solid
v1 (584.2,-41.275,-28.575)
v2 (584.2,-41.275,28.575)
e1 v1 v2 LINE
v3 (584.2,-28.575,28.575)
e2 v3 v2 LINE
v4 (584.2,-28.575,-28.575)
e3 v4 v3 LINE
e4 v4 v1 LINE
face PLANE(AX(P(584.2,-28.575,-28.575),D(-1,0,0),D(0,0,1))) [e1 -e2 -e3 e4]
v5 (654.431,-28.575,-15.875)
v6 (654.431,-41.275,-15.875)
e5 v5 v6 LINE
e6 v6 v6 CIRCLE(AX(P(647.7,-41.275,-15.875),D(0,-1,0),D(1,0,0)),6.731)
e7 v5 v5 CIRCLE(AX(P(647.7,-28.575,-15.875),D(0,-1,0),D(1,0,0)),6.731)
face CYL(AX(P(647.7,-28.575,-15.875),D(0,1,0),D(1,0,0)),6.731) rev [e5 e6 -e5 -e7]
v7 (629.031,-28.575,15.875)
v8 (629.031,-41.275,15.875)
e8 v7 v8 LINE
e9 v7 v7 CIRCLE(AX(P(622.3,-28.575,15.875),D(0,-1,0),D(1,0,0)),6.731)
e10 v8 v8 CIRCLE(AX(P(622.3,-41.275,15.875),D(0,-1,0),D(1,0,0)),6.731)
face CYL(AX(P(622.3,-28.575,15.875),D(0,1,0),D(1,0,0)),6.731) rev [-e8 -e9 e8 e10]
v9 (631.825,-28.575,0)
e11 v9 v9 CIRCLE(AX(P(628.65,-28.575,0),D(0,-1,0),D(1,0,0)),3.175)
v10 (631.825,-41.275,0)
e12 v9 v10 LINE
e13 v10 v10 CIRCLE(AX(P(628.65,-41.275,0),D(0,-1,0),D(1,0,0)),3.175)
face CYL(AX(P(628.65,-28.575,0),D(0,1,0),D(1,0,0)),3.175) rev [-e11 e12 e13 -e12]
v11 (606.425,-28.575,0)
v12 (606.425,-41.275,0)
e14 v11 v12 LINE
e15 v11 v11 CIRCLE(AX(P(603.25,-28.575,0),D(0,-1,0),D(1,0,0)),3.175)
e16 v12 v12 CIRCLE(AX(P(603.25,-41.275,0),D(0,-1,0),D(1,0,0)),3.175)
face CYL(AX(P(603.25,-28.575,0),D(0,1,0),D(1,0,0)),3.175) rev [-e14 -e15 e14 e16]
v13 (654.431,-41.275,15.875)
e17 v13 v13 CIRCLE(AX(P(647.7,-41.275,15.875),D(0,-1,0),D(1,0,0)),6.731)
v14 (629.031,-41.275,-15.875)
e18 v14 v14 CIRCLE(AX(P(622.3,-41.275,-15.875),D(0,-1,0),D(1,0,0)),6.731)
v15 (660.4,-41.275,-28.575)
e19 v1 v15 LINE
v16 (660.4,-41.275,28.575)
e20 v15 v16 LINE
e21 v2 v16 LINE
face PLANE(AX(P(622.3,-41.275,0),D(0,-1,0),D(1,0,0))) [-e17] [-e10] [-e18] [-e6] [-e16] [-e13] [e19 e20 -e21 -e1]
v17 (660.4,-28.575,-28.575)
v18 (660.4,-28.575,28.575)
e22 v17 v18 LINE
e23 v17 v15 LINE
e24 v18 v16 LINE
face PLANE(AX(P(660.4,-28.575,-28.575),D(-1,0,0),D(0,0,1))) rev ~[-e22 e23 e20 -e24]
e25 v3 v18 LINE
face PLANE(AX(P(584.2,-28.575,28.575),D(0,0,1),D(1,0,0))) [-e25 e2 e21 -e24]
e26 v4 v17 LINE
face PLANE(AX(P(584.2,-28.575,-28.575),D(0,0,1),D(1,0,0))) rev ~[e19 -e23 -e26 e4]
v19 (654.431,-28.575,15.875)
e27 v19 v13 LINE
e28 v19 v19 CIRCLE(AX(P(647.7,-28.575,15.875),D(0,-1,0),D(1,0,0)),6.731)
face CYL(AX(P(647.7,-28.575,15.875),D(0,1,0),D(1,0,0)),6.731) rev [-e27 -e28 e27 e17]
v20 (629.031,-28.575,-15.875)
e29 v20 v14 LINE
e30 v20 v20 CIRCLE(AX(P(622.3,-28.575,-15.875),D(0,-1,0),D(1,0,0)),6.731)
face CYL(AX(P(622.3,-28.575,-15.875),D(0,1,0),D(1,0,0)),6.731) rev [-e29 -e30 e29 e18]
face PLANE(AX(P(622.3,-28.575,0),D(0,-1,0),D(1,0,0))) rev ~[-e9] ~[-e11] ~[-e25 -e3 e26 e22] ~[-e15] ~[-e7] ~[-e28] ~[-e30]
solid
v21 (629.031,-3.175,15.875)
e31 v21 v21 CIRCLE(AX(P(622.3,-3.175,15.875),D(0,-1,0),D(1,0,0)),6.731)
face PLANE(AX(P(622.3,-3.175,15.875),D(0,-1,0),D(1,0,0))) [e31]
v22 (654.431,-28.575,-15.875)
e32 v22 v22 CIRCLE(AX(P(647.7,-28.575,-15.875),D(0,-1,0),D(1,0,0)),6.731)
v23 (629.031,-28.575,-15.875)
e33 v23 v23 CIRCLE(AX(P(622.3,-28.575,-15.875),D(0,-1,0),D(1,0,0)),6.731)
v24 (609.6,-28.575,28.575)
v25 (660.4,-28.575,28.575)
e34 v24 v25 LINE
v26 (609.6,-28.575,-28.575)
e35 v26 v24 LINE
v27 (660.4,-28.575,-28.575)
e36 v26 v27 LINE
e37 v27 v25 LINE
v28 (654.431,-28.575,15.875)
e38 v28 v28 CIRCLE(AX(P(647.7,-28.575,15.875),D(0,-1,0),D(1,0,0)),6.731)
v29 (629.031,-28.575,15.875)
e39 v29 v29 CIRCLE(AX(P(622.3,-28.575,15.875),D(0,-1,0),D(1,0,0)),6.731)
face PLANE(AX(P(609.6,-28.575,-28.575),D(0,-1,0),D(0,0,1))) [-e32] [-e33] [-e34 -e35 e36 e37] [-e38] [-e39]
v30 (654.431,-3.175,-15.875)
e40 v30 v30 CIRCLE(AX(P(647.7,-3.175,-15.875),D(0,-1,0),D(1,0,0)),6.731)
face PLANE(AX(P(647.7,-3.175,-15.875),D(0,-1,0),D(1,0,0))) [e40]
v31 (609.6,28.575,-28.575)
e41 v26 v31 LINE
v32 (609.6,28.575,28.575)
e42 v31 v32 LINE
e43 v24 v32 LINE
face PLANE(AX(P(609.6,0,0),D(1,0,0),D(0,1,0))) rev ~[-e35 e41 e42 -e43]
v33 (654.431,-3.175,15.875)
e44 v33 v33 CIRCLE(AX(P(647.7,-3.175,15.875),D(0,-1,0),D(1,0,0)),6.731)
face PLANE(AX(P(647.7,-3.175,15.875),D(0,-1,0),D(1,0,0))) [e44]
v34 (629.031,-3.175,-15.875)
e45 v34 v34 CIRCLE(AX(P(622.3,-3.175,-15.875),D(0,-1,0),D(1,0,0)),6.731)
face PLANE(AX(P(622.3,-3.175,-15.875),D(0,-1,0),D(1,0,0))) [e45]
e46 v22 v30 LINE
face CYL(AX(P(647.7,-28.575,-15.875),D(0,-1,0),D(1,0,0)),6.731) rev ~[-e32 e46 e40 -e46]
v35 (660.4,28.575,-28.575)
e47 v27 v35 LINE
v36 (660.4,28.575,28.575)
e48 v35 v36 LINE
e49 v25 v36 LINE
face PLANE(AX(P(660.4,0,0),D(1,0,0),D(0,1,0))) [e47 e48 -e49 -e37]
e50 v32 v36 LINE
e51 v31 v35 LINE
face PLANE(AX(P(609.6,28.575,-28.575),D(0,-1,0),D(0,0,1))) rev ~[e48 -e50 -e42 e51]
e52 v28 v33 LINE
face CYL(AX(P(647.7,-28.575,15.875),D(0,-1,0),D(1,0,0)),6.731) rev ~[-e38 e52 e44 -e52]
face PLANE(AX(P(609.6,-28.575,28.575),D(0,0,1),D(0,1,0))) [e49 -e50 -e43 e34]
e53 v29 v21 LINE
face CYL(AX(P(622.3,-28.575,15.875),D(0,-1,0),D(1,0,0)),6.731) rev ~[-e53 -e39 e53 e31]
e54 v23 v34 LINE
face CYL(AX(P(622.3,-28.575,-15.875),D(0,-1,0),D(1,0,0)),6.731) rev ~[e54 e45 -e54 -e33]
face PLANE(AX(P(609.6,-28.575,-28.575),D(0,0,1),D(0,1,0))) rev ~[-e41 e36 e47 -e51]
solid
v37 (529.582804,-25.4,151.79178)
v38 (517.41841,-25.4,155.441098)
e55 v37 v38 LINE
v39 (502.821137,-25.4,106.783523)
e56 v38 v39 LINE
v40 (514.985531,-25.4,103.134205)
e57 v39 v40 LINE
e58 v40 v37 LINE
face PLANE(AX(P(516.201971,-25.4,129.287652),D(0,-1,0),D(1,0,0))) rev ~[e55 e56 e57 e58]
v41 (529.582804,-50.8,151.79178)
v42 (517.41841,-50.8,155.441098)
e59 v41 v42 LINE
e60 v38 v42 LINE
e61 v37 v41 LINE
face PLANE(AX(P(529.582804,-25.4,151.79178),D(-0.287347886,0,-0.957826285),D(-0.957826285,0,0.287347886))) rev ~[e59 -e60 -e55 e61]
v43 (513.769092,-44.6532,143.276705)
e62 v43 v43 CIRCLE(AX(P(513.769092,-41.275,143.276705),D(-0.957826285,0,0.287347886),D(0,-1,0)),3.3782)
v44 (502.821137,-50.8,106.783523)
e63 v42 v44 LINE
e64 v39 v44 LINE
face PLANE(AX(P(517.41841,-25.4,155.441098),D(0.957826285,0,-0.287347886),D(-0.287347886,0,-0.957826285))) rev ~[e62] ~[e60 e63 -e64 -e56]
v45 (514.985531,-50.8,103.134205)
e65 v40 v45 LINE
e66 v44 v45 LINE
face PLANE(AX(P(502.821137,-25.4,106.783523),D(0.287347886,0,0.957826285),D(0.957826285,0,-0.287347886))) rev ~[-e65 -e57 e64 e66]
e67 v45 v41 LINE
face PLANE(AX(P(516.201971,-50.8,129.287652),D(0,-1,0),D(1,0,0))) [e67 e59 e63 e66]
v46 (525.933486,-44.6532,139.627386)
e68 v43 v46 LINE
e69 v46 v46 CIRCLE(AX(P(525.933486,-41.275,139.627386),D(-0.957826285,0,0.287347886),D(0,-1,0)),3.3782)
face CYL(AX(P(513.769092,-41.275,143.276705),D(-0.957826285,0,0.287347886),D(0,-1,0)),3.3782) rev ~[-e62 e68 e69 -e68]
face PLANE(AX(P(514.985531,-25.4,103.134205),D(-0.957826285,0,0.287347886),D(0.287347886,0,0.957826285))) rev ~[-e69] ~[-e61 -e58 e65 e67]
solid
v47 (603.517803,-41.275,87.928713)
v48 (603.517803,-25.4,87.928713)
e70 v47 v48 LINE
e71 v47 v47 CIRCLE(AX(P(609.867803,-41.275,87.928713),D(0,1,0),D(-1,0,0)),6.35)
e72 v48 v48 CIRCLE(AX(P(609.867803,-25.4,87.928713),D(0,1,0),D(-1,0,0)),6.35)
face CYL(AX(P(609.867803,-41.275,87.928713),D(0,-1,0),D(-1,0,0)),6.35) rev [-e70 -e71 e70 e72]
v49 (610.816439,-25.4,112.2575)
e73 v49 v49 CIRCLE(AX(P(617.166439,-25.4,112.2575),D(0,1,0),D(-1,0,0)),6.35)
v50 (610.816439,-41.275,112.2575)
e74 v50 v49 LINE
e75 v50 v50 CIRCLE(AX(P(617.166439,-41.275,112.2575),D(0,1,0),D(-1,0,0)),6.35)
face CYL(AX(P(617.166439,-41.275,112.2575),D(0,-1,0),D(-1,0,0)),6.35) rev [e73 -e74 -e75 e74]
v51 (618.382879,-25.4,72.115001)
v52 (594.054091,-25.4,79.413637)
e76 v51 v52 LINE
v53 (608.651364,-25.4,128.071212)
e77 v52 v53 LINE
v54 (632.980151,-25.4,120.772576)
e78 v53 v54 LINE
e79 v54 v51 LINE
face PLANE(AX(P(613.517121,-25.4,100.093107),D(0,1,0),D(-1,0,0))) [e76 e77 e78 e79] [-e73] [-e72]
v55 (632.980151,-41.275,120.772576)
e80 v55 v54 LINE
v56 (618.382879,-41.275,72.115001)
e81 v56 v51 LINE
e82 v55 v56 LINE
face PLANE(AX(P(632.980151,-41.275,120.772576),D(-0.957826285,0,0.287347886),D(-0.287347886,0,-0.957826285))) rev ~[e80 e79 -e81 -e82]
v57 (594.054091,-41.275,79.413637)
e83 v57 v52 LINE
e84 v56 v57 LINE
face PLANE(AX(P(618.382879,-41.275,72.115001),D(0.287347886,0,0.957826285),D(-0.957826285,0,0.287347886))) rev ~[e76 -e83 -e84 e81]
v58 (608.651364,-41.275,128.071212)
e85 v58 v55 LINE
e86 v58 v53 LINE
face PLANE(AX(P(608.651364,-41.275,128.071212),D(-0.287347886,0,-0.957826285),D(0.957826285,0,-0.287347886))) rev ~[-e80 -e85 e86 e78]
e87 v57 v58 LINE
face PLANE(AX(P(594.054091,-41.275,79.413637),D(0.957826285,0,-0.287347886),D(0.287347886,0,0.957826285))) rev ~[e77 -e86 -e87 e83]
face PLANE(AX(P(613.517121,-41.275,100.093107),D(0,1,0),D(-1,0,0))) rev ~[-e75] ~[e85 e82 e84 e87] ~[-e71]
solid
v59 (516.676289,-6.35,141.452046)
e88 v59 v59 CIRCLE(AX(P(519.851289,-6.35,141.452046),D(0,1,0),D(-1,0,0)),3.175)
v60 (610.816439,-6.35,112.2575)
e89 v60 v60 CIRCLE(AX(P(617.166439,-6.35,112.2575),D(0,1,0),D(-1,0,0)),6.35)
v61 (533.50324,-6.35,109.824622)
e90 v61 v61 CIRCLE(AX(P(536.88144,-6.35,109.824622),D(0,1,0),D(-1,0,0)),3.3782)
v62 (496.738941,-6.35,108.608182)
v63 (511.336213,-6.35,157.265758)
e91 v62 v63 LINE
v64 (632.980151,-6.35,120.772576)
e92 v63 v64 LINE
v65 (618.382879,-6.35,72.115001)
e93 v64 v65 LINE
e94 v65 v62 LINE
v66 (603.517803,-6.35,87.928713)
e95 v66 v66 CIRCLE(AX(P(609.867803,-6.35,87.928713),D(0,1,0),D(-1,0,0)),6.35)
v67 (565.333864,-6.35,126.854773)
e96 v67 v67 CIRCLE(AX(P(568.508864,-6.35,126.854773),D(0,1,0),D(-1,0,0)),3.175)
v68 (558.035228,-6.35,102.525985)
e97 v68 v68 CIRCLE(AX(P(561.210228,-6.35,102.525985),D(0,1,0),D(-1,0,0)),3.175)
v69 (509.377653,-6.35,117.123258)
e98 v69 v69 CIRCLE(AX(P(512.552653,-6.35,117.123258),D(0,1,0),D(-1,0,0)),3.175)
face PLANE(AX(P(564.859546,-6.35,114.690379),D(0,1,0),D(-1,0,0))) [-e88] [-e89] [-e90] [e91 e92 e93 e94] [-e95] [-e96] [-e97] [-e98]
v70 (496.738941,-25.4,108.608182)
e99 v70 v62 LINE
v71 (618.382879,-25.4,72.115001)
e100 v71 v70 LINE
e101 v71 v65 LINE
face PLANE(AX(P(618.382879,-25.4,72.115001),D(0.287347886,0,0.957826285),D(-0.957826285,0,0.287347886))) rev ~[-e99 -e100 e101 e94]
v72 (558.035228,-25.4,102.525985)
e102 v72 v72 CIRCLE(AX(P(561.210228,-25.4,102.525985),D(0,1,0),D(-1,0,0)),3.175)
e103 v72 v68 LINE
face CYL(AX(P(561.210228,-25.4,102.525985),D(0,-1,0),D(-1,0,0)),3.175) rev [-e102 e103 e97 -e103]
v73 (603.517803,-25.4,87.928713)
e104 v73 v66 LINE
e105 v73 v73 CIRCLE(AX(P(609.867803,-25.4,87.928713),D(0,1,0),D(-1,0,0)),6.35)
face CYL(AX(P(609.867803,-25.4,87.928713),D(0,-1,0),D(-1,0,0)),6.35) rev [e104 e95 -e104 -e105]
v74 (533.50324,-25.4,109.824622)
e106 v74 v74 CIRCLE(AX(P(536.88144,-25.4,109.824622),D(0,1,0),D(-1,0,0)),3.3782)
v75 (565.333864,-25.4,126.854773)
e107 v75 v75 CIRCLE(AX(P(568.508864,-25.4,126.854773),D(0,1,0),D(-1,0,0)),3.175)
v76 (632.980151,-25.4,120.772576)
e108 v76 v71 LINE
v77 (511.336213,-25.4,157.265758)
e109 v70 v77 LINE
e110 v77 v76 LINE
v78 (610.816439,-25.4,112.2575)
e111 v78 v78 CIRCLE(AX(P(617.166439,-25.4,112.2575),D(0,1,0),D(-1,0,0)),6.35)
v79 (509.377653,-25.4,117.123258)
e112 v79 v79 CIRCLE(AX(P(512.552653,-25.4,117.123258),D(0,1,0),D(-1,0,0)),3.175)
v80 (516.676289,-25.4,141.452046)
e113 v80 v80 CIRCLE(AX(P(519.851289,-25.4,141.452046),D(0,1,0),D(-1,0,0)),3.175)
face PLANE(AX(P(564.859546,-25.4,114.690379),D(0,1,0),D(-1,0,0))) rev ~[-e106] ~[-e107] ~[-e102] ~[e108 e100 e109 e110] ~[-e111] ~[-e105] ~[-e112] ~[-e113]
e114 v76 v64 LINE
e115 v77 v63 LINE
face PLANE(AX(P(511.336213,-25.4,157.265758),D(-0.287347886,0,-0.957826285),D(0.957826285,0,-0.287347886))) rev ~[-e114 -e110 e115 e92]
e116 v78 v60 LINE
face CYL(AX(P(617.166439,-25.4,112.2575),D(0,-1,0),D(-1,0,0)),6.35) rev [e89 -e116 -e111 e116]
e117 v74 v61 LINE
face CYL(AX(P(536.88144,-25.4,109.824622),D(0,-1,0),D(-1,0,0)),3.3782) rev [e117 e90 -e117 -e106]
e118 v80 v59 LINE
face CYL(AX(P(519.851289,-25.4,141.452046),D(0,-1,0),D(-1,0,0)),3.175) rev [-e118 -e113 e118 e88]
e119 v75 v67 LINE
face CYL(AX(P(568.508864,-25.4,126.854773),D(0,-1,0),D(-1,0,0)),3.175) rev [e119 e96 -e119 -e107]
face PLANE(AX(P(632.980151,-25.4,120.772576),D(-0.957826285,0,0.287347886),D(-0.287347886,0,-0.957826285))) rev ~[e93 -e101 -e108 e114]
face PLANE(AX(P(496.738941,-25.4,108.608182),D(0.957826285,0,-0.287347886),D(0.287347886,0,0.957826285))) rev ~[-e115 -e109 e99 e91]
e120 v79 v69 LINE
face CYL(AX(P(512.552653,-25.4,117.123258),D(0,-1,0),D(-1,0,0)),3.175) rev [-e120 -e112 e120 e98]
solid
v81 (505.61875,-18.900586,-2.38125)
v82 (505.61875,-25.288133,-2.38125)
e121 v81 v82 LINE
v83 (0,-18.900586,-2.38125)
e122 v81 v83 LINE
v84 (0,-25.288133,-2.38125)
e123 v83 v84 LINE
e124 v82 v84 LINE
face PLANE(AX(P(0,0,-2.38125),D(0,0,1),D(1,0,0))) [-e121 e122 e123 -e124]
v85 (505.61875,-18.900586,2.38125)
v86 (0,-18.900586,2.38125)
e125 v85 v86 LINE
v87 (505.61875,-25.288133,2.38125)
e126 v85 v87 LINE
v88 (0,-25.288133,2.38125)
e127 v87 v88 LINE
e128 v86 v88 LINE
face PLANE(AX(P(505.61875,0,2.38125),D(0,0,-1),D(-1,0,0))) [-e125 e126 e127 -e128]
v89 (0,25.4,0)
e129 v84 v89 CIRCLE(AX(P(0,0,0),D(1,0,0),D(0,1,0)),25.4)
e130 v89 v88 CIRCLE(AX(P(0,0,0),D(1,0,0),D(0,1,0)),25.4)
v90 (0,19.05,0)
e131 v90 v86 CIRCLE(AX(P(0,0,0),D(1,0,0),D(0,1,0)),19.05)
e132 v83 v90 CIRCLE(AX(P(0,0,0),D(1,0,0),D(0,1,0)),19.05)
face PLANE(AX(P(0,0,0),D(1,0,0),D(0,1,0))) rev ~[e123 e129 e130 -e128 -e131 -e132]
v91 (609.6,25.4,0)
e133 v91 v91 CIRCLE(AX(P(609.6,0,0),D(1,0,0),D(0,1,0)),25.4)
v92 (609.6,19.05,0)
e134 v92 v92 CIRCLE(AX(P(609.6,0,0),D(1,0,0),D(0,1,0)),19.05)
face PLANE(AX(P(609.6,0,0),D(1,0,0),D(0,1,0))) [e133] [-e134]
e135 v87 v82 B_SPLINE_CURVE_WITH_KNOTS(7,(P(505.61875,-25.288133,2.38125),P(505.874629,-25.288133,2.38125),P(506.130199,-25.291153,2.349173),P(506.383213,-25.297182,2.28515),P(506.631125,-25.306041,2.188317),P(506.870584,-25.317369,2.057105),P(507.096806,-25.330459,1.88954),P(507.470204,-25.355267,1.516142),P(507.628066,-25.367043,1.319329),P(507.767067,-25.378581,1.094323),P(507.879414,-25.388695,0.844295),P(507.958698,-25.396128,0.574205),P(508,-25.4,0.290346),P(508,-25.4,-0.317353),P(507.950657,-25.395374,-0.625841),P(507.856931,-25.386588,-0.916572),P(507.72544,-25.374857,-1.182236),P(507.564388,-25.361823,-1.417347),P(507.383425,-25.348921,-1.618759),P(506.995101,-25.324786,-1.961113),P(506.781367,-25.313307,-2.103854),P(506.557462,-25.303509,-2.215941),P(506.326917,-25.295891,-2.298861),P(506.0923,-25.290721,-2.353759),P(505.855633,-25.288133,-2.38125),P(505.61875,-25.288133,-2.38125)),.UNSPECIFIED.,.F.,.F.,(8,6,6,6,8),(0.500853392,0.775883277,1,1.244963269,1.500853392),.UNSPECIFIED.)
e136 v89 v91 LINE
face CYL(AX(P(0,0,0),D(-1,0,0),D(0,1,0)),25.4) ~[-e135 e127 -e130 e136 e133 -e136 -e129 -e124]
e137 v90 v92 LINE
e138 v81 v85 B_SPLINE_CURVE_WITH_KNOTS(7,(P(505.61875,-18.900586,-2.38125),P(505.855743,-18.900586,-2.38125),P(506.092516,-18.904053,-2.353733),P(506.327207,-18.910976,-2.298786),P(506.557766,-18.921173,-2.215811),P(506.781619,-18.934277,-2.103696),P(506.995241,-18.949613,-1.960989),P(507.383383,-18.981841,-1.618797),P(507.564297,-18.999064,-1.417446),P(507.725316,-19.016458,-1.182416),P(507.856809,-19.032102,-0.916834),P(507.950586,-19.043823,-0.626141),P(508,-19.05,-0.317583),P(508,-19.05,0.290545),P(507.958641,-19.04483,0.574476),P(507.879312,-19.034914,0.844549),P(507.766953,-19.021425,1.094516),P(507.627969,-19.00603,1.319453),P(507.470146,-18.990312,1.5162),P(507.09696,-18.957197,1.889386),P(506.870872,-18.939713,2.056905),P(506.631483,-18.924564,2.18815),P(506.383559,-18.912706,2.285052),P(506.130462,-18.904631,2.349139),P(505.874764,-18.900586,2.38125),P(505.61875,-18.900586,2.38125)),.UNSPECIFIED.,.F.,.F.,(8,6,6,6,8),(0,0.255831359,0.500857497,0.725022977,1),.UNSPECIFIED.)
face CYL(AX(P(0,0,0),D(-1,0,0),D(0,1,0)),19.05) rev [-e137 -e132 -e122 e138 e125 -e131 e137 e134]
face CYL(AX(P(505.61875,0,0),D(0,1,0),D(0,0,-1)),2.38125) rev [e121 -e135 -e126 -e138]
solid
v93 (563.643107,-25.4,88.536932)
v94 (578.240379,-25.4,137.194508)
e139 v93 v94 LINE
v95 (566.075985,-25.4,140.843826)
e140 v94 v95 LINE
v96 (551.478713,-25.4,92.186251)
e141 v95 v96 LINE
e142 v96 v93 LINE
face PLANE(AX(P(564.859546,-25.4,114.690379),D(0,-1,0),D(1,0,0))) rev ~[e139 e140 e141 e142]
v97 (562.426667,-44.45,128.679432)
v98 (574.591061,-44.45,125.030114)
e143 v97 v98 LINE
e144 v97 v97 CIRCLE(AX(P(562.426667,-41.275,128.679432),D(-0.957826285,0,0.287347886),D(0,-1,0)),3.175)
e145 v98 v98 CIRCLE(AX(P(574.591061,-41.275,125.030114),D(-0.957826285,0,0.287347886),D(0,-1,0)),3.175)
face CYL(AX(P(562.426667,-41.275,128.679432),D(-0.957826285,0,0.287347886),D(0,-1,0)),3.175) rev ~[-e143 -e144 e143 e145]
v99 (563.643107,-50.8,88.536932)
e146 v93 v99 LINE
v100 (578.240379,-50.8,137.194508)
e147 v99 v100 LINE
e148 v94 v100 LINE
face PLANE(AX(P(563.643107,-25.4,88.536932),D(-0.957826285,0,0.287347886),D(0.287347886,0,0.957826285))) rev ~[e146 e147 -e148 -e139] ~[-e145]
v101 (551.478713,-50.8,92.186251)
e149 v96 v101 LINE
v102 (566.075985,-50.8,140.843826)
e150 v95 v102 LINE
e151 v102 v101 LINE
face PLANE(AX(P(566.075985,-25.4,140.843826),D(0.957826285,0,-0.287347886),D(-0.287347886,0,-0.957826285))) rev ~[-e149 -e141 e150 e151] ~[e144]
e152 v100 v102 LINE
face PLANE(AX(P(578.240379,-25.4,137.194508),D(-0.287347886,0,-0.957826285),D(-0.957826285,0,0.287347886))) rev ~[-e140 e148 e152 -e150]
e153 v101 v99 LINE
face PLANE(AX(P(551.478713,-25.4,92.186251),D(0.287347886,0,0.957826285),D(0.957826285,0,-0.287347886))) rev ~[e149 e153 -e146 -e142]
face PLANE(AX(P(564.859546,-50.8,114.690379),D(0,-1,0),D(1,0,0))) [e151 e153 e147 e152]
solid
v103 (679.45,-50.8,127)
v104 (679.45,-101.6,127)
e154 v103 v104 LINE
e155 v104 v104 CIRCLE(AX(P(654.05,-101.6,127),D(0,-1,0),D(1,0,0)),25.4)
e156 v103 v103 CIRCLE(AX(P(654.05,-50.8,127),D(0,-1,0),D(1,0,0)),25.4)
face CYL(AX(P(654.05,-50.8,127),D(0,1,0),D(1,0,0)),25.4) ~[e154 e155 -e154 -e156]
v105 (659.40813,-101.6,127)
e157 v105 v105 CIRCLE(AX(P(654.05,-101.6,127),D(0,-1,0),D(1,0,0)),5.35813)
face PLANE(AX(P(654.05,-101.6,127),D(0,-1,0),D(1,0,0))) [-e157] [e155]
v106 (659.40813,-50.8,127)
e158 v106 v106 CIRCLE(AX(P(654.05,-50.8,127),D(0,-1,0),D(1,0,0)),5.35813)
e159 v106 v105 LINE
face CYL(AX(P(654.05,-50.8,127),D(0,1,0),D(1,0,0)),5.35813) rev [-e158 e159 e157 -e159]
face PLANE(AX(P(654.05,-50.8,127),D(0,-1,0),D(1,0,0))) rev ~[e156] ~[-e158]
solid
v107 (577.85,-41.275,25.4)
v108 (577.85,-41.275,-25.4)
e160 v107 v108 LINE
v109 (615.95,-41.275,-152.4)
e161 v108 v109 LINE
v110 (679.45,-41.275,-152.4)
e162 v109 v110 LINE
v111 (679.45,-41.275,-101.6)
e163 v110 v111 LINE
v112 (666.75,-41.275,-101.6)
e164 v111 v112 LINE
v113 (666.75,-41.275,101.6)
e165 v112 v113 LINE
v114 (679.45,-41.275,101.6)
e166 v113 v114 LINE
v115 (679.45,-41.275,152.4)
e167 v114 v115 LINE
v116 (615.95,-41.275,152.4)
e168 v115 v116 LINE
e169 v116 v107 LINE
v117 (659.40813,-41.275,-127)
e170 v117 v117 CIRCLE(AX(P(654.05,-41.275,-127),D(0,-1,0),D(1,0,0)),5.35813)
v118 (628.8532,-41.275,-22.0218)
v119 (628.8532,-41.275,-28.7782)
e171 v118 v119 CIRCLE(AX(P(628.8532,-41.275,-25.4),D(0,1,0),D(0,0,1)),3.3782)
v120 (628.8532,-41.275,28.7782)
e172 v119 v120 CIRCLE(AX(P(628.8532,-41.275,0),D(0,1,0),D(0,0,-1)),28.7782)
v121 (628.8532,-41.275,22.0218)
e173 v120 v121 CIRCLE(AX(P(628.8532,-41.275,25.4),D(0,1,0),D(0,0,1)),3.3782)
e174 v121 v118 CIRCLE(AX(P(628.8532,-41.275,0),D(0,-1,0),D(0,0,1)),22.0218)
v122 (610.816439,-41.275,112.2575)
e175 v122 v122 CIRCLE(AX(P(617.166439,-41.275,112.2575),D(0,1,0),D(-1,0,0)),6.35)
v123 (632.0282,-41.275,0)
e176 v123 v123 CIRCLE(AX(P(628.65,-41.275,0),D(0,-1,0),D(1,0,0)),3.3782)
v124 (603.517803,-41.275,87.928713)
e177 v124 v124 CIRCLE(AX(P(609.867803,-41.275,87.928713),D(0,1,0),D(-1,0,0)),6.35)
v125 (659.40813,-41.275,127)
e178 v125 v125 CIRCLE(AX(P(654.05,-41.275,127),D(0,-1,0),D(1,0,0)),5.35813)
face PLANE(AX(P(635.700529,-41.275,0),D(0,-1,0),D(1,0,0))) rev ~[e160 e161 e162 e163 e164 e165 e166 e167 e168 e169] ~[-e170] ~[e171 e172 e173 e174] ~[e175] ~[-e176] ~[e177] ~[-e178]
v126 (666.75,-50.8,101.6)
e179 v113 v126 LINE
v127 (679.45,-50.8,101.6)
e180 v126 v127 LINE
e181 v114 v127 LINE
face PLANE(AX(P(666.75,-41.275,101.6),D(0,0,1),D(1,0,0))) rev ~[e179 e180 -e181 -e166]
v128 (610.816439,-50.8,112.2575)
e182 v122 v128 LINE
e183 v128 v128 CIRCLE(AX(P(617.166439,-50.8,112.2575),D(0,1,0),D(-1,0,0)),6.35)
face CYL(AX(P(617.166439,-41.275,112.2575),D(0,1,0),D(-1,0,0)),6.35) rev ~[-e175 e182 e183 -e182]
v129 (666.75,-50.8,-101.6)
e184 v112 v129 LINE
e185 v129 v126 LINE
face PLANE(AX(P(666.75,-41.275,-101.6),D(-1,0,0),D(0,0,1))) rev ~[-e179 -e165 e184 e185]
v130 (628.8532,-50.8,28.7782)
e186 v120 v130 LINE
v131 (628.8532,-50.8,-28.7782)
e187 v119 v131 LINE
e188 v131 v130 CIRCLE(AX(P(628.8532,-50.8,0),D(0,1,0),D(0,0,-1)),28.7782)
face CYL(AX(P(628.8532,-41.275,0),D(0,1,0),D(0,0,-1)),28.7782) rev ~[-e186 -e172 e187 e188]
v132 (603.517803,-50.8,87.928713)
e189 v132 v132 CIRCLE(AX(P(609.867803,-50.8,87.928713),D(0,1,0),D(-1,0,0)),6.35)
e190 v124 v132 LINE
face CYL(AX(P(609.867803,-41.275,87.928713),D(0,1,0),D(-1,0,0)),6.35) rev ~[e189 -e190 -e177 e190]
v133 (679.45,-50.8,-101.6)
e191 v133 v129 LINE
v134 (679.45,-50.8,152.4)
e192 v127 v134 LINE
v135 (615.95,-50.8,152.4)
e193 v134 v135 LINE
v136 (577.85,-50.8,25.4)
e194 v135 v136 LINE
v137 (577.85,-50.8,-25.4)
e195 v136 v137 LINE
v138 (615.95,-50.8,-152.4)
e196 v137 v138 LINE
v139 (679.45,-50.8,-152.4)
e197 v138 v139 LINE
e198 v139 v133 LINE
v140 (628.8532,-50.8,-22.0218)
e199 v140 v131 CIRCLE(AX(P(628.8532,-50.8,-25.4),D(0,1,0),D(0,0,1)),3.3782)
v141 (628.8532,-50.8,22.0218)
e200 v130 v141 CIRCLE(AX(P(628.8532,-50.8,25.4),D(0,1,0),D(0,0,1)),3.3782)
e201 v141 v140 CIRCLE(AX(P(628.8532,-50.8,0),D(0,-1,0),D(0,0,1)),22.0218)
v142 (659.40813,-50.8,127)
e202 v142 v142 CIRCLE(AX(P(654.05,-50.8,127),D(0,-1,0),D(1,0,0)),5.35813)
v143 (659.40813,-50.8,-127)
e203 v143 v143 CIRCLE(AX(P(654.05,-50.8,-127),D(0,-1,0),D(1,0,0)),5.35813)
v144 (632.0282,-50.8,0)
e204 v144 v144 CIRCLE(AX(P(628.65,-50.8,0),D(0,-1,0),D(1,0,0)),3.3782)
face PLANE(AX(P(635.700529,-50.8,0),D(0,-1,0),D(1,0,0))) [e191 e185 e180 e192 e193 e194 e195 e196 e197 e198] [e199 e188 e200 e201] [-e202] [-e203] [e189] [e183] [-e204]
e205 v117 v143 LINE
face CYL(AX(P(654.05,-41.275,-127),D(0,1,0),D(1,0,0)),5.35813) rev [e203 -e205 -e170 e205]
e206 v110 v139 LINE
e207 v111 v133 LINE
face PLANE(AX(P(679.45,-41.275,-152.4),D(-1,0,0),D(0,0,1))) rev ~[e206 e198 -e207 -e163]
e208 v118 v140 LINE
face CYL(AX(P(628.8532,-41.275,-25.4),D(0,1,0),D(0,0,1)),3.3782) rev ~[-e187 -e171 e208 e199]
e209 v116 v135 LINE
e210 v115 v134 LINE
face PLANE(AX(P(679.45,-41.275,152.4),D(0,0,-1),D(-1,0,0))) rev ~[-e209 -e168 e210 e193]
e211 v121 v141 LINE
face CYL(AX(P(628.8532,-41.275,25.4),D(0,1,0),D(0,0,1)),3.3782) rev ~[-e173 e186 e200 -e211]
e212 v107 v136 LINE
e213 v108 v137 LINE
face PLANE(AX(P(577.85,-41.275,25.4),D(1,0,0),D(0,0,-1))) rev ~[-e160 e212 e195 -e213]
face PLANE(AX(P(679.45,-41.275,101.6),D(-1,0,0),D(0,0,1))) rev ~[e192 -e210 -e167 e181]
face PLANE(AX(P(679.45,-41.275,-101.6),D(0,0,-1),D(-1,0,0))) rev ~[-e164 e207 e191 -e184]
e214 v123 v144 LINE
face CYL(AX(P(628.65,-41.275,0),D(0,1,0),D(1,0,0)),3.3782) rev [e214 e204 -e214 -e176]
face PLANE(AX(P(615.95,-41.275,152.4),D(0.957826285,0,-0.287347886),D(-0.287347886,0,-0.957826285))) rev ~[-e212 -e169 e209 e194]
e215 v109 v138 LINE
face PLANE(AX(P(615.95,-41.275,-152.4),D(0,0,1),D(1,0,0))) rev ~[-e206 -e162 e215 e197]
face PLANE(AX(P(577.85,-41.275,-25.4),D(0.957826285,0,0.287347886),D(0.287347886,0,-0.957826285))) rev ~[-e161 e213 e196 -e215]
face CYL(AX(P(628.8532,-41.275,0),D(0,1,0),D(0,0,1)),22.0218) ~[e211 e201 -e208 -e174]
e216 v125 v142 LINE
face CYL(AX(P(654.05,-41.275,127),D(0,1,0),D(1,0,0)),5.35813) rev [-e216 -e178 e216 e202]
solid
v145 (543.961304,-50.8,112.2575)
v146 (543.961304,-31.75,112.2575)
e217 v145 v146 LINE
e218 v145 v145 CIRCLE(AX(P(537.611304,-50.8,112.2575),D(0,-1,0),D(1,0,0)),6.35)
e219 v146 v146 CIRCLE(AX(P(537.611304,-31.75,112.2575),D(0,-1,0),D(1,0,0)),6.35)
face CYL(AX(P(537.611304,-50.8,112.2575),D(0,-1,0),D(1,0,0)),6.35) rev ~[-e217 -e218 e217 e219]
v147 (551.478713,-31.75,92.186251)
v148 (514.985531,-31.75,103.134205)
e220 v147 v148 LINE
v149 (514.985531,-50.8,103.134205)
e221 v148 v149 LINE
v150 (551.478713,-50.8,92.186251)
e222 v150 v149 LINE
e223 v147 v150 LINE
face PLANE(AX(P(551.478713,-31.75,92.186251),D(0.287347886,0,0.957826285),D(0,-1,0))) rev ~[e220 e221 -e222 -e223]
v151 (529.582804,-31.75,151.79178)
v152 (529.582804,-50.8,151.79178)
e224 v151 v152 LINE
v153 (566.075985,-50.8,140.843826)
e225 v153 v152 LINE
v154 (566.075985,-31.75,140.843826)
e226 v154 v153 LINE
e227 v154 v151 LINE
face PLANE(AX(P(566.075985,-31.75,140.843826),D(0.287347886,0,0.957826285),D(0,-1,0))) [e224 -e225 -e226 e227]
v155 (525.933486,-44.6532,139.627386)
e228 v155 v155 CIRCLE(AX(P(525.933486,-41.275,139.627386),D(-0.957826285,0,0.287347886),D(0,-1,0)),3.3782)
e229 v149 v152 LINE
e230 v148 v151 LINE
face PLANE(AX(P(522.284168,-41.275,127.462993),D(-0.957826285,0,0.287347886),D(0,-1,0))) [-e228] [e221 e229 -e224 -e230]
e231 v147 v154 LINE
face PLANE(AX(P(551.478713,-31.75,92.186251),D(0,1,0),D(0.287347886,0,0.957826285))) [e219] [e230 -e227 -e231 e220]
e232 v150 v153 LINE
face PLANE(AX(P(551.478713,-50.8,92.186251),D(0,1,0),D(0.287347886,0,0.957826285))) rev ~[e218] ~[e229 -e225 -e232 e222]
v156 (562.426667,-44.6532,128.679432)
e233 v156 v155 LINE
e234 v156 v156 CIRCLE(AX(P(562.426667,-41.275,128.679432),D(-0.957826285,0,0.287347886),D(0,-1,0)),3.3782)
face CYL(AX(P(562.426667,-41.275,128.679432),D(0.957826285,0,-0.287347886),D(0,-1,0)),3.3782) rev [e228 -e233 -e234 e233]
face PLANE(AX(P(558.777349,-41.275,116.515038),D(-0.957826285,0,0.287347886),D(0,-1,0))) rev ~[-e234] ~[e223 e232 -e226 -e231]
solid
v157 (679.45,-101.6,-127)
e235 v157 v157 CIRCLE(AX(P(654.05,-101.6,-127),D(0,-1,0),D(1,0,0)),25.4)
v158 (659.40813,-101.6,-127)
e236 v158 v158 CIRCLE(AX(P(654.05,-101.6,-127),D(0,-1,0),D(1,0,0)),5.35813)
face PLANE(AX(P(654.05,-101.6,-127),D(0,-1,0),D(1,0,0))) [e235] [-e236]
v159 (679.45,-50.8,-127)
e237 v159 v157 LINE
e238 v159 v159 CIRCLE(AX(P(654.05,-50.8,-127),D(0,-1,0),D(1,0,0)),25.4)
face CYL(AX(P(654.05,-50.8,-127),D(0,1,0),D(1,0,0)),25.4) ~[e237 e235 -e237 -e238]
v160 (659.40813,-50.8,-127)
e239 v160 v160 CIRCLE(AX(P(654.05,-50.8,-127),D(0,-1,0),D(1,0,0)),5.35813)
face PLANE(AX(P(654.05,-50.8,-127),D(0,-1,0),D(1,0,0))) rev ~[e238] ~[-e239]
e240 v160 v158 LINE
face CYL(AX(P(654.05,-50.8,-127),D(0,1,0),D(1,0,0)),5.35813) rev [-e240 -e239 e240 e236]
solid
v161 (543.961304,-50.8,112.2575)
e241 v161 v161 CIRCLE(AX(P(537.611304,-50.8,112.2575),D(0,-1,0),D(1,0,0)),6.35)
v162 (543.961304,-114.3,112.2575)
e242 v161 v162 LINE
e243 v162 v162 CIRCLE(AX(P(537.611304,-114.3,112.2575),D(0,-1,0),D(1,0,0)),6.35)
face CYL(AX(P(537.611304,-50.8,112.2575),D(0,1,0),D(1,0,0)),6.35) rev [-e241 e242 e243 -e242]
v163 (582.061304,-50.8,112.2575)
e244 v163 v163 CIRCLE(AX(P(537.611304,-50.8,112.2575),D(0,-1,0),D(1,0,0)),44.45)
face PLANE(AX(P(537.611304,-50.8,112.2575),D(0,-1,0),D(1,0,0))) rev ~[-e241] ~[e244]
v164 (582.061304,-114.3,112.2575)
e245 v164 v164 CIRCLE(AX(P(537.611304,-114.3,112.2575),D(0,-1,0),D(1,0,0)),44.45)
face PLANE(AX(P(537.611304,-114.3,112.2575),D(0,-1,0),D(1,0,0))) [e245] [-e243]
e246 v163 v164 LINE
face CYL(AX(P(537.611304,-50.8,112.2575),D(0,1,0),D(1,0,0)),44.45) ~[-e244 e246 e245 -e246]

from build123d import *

# Parameters (mm, degrees)
F0_R      = 25.4
F0_R_2    = 19.05
F1_DEPTH  = 609.6
F4_DEPTH  = 25.4
F3_W      = 57.15
F3_H      = 57.15
F5_DEPTH  = 50.8
F6_W      = 76.2
F6_H      = 57.15
F6_R      = 6.731
F6_R_2    = 3.175
F7_DEPTH  = 12.7
F8_DEPTH  = 25.4
F9_R      = 5.35813
F9_R_2    = 3.3782
F10_DEPTH = 9.525
F11_R     = 25.4
F11_R_2   = 5.35813
F12_DEPTH = 50.8
F14_R     = 6.35
F15_DEPTH = 15.875
F16_START = 15.875
F13_R     = 6.35
F13_R_2   = 3.175
F13_R_3   = 3.3782
F16_DEPTH = 19.05
F18_DEPTH = 25.4
F19_R     = 3.3782
F20_DEPTH = 25.4
F21_R     = 3.175
F22_DEPTH = 25.4
F23_W     = 19.05
F23_H     = 50.8
F23_R     = 3.3782
F24_DEPTH = 38.1
F25_R     = 6.35
F26_DEPTH = 25.4
F27_DEPTH = 25.4
F28_R     = 44.45
F28_R_2   = 6.35
F29_DEPTH = 63.5


with BuildPart() as f1:
    # F0 (on Right) → F1 (new body)
    with BuildSketch(Plane.YZ):
        Circle(F0_R)
        Circle(F0_R_2, mode=Mode.SUBTRACT)
    extrude(amount=F1_DEPTH)

    # F2 (on Front) → F4 (cut)
    with BuildSketch(Plane.XZ):
        with BuildLine():
            Line((505.61875, 2.38125), (0, 2.38125))
            Line((0, 2.38125), (0, -2.38125))
            Line((0, -2.38125), (505.61875, -2.38125))
            ThreePointArc((505.61875, -2.38125), (508, 0), (505.61875, 2.38125))
        make_face()
    extrude(amount=F4_DEPTH, mode=Mode.SUBTRACT)


with BuildPart() as f5:
    # F3 (on face) → F5 (new body)
    with BuildSketch(Plane.YZ.offset(609.6)):
        Rectangle(F3_W, F3_H)
    extrude(amount=F5_DEPTH)

    # F6 (on face) → F8 (cut)
    with BuildSketch(Plane.XZ.offset(28.575)):
        with Locations((647.7, -15.875)):
            Circle(F6_R)
        with Locations((647.7, 15.875)):
            Circle(F6_R)
        with Locations((622.3, 15.875)):
            Circle(F6_R)
        with Locations((622.3, -15.875)):
            Circle(F6_R)
    extrude(amount=-F8_DEPTH, mode=Mode.SUBTRACT)


with BuildPart() as f7:
    # F6 (on face) → F7 (new body)
    with BuildSketch(Plane.XZ.offset(28.575)):
        with Locations((622.3, 0)):
            Rectangle(F6_W, F6_H)
        with Locations((622.3, -15.875)):
            Circle(F6_R, mode=Mode.SUBTRACT)
        with Locations((647.7, -15.875)):
            Circle(F6_R, mode=Mode.SUBTRACT)
        with Locations((603.25, 0)):
            Circle(F6_R_2, mode=Mode.SUBTRACT)
        with Locations((622.3, 15.875)):
            Circle(F6_R, mode=Mode.SUBTRACT)
        with Locations((628.65, 0)):
            Circle(F6_R_2, mode=Mode.SUBTRACT)
        with Locations((647.7, 15.875)):
            Circle(F6_R, mode=Mode.SUBTRACT)
    extrude(amount=F7_DEPTH)


with BuildPart() as f10:
    # F9 (on face) → F10 (new body)
    with BuildSketch(Plane.XZ.offset(41.275)):
        Polygon((679.45, 152.4), (615.95, 152.4), (577.85, 25.4), (577.85, -25.4), (615.95, -152.4), (679.45, -152.4), (679.45, -101.6), (666.75, -101.6), (666.75, 101.6), (679.45, 101.6), align=None)
        with Locations((654.05, -127)):
            Circle(F9_R, mode=Mode.SUBTRACT)
        with BuildLine():
            ThreePointArc((628.8532, 28.7782), (632.2314, 25.4), (628.8532, 22.0218))
            ThreePointArc((628.8532, 22.0218), (606.8314, 0), (628.8532, -22.0218))
            ThreePointArc((628.8532, -22.0218), (632.2314, -25.4), (628.8532, -28.7782))
            ThreePointArc((628.8532, -28.7782), (600.075, 0), (628.8532, 28.7782))
        make_face(mode=Mode.SUBTRACT)
        with Locations((628.65, 0)):
            Circle(F9_R_2, mode=Mode.SUBTRACT)
        with Locations((654.05, 127)):
            Circle(F9_R, mode=Mode.SUBTRACT)
    extrude(amount=F10_DEPTH)

    # F13 (on face) → F27 (cut)
    with BuildSketch(Plane(origin=(0, -41.275, 0), x_dir=(-1, 0, 0), z_dir=(0, 1, 0))):
        with Locations((-617.1664393822, 112.2575003864)):
            Circle(F13_R)
        with Locations((-609.8678030888, 87.9287127418)):
            Circle(F13_R)
    extrude(amount=-F27_DEPTH, mode=Mode.SUBTRACT)


with BuildPart() as f12:
    # F11 (on face) → F12 (new body)
    with BuildSketch(Plane.XZ.offset(50.8)):
        with Locations((654.05, 127)):
            Circle(F11_R)
        with Locations((654.05, 127)):
            Circle(F11_R_2, mode=Mode.SUBTRACT)
    extrude(amount=F12_DEPTH)


with BuildPart() as f12b:
    # F11 (on face) → F12, piece 2 (new body)
    with BuildSketch(Plane.XZ.offset(50.8)):
        with Locations((654.05, -127)):
            Circle(F11_R)
        with Locations((654.05, -127)):
            Circle(F11_R_2, mode=Mode.SUBTRACT)
    extrude(amount=F12_DEPTH)


with BuildPart() as f15:
    # F14 (on face) → F15 (new body)
    with BuildSketch(Plane(origin=(0, -41.275, 0), x_dir=(-1, 0, 0), z_dir=(0, 1, 0))):
        Polygon((-608.6513637066, 128.0712123554), (-632.9801513512, 120.772576062), (-618.3828787645, 72.1150007728), (-594.0540911198, 79.4136370661), align=None)
        with Locations((-609.8678030888, 87.9287127418)):
            Circle(F14_R, mode=Mode.SUBTRACT)
        with Locations((-617.1664393822, 112.2575003864)):
            Circle(F14_R, mode=Mode.SUBTRACT)
    extrude(amount=F15_DEPTH)


with BuildPart() as f16:
    # F13 (on face) → F16 (new body)
    with BuildSketch(Plane(origin=(0, -41.275, 0), x_dir=(-1, 0, 0), z_dir=(0, 1, 0)).offset(F16_START)):
        Polygon((-511.3362131281, 157.2657575289), (-632.9801513512, 120.772576062), (-618.3828787645, 72.1150007728), (-496.7389405414, 108.6081822397), align=None)
        with Locations((-609.8678030888, 87.9287127418)):
            Circle(F13_R, mode=Mode.SUBTRACT)
        with Locations((-617.1664393822, 112.2575003864)):
            Circle(F13_R, mode=Mode.SUBTRACT)
        with Locations((-561.2102277996, 102.5259853285)):
            Circle(F13_R_2, mode=Mode.SUBTRACT)
        with Locations((-536.881440155, 109.8246216219)):
            Circle(F13_R_3, mode=Mode.SUBTRACT)
        with Locations((-568.508864093, 126.8547729732)):
            Circle(F13_R_2, mode=Mode.SUBTRACT)
        with Locations((-512.5526525104, 117.1232579153)):
            Circle(F13_R_2, mode=Mode.SUBTRACT)
        with Locations((-519.8512888038, 141.4520455599)):
            Circle(F13_R_2, mode=Mode.SUBTRACT)
    extrude(amount=F16_DEPTH)


with BuildPart() as f18:
    # F17 (on face) → F18 (new body)
    with BuildSketch(Plane.XZ.offset(25.4)):
        Polygon((529.5828038616, 151.7917803089), (517.4184100393, 155.4410984556), (502.8211374525, 106.7835231663), (514.9855312748, 103.1342050197), align=None)
    extrude(amount=F18_DEPTH)

    # F19 (on face) → F20 (cut)
    with BuildSketch(Plane(origin=(431.9138353235, 0, -129.5741505971), x_dir=(0, -1, 0), z_dir=(-0.9578262852, 0, 0.2873478856))):
        with Locations((41.275, 284.8646559823)):
            Circle(F19_R)
    extrude(amount=-F20_DEPTH, mode=Mode.SUBTRACT)


with BuildPart() as f18b:
    # F17 (on face) → F18, piece 2 (new body)
    with BuildSketch(Plane.XZ.offset(25.4)):
        Polygon((578.2403791508, 137.1945077221), (566.0759853285, 140.8438258688), (551.4787127418, 92.1862505796), (563.6431065641, 88.5369324329), align=None)
    extrude(amount=F18_DEPTH)

    # F21 (on face) → F22 (cut)
    with BuildSketch(Plane(origin=(480.5714106127, 0, -144.1714231838), x_dir=(0, -1, 0), z_dir=(-0.9578262852, 0, 0.2873478856))):
        with Locations((41.275, 284.8646559823)):
            Circle(F21_R)
    extrude(amount=-F22_DEPTH, mode=Mode.SUBTRACT)


with BuildPart() as f24:
    # F23 (on face) → F24 (new body)
    with BuildSketch(Plane(origin=(480.5714106127, 0, -144.1714231838), x_dir=(0, -1, 0), z_dir=(-0.9578262852, 0, 0.2873478856))):
        with Locations((41.275, 272.1646559823)):
            Rectangle(F23_W, F23_H)
        with Locations((41.275, 284.8646559823)):
            Circle(F23_R, mode=Mode.SUBTRACT)
    extrude(amount=F24_DEPTH)

    # F25 (on face) → F26 (cut)
    with BuildSketch(Plane.XZ.offset(50.8)):
        with Locations((537.6113037843, 112.2575003864)):
            Circle(F25_R)
    extrude(amount=-F26_DEPTH, mode=Mode.SUBTRACT)


with BuildPart() as f29:
    # F28 (on face) → F29 (new body)
    with BuildSketch(Plane.XZ.offset(50.8)):
        with Locations((537.6113037843, 112.2575003864)):
            Circle(F28_R)
        with Locations((537.6113037843, 112.2575003864)):
            Circle(F28_R_2, mode=Mode.SUBTRACT)
    extrude(amount=F29_DEPTH)


solid = Compound([f1.part, f5.part, f7.part, f10.part, f12.part, f12b.part, f15.part, f16.part, f18.part, f18b.part, f24.part, f29.part])
